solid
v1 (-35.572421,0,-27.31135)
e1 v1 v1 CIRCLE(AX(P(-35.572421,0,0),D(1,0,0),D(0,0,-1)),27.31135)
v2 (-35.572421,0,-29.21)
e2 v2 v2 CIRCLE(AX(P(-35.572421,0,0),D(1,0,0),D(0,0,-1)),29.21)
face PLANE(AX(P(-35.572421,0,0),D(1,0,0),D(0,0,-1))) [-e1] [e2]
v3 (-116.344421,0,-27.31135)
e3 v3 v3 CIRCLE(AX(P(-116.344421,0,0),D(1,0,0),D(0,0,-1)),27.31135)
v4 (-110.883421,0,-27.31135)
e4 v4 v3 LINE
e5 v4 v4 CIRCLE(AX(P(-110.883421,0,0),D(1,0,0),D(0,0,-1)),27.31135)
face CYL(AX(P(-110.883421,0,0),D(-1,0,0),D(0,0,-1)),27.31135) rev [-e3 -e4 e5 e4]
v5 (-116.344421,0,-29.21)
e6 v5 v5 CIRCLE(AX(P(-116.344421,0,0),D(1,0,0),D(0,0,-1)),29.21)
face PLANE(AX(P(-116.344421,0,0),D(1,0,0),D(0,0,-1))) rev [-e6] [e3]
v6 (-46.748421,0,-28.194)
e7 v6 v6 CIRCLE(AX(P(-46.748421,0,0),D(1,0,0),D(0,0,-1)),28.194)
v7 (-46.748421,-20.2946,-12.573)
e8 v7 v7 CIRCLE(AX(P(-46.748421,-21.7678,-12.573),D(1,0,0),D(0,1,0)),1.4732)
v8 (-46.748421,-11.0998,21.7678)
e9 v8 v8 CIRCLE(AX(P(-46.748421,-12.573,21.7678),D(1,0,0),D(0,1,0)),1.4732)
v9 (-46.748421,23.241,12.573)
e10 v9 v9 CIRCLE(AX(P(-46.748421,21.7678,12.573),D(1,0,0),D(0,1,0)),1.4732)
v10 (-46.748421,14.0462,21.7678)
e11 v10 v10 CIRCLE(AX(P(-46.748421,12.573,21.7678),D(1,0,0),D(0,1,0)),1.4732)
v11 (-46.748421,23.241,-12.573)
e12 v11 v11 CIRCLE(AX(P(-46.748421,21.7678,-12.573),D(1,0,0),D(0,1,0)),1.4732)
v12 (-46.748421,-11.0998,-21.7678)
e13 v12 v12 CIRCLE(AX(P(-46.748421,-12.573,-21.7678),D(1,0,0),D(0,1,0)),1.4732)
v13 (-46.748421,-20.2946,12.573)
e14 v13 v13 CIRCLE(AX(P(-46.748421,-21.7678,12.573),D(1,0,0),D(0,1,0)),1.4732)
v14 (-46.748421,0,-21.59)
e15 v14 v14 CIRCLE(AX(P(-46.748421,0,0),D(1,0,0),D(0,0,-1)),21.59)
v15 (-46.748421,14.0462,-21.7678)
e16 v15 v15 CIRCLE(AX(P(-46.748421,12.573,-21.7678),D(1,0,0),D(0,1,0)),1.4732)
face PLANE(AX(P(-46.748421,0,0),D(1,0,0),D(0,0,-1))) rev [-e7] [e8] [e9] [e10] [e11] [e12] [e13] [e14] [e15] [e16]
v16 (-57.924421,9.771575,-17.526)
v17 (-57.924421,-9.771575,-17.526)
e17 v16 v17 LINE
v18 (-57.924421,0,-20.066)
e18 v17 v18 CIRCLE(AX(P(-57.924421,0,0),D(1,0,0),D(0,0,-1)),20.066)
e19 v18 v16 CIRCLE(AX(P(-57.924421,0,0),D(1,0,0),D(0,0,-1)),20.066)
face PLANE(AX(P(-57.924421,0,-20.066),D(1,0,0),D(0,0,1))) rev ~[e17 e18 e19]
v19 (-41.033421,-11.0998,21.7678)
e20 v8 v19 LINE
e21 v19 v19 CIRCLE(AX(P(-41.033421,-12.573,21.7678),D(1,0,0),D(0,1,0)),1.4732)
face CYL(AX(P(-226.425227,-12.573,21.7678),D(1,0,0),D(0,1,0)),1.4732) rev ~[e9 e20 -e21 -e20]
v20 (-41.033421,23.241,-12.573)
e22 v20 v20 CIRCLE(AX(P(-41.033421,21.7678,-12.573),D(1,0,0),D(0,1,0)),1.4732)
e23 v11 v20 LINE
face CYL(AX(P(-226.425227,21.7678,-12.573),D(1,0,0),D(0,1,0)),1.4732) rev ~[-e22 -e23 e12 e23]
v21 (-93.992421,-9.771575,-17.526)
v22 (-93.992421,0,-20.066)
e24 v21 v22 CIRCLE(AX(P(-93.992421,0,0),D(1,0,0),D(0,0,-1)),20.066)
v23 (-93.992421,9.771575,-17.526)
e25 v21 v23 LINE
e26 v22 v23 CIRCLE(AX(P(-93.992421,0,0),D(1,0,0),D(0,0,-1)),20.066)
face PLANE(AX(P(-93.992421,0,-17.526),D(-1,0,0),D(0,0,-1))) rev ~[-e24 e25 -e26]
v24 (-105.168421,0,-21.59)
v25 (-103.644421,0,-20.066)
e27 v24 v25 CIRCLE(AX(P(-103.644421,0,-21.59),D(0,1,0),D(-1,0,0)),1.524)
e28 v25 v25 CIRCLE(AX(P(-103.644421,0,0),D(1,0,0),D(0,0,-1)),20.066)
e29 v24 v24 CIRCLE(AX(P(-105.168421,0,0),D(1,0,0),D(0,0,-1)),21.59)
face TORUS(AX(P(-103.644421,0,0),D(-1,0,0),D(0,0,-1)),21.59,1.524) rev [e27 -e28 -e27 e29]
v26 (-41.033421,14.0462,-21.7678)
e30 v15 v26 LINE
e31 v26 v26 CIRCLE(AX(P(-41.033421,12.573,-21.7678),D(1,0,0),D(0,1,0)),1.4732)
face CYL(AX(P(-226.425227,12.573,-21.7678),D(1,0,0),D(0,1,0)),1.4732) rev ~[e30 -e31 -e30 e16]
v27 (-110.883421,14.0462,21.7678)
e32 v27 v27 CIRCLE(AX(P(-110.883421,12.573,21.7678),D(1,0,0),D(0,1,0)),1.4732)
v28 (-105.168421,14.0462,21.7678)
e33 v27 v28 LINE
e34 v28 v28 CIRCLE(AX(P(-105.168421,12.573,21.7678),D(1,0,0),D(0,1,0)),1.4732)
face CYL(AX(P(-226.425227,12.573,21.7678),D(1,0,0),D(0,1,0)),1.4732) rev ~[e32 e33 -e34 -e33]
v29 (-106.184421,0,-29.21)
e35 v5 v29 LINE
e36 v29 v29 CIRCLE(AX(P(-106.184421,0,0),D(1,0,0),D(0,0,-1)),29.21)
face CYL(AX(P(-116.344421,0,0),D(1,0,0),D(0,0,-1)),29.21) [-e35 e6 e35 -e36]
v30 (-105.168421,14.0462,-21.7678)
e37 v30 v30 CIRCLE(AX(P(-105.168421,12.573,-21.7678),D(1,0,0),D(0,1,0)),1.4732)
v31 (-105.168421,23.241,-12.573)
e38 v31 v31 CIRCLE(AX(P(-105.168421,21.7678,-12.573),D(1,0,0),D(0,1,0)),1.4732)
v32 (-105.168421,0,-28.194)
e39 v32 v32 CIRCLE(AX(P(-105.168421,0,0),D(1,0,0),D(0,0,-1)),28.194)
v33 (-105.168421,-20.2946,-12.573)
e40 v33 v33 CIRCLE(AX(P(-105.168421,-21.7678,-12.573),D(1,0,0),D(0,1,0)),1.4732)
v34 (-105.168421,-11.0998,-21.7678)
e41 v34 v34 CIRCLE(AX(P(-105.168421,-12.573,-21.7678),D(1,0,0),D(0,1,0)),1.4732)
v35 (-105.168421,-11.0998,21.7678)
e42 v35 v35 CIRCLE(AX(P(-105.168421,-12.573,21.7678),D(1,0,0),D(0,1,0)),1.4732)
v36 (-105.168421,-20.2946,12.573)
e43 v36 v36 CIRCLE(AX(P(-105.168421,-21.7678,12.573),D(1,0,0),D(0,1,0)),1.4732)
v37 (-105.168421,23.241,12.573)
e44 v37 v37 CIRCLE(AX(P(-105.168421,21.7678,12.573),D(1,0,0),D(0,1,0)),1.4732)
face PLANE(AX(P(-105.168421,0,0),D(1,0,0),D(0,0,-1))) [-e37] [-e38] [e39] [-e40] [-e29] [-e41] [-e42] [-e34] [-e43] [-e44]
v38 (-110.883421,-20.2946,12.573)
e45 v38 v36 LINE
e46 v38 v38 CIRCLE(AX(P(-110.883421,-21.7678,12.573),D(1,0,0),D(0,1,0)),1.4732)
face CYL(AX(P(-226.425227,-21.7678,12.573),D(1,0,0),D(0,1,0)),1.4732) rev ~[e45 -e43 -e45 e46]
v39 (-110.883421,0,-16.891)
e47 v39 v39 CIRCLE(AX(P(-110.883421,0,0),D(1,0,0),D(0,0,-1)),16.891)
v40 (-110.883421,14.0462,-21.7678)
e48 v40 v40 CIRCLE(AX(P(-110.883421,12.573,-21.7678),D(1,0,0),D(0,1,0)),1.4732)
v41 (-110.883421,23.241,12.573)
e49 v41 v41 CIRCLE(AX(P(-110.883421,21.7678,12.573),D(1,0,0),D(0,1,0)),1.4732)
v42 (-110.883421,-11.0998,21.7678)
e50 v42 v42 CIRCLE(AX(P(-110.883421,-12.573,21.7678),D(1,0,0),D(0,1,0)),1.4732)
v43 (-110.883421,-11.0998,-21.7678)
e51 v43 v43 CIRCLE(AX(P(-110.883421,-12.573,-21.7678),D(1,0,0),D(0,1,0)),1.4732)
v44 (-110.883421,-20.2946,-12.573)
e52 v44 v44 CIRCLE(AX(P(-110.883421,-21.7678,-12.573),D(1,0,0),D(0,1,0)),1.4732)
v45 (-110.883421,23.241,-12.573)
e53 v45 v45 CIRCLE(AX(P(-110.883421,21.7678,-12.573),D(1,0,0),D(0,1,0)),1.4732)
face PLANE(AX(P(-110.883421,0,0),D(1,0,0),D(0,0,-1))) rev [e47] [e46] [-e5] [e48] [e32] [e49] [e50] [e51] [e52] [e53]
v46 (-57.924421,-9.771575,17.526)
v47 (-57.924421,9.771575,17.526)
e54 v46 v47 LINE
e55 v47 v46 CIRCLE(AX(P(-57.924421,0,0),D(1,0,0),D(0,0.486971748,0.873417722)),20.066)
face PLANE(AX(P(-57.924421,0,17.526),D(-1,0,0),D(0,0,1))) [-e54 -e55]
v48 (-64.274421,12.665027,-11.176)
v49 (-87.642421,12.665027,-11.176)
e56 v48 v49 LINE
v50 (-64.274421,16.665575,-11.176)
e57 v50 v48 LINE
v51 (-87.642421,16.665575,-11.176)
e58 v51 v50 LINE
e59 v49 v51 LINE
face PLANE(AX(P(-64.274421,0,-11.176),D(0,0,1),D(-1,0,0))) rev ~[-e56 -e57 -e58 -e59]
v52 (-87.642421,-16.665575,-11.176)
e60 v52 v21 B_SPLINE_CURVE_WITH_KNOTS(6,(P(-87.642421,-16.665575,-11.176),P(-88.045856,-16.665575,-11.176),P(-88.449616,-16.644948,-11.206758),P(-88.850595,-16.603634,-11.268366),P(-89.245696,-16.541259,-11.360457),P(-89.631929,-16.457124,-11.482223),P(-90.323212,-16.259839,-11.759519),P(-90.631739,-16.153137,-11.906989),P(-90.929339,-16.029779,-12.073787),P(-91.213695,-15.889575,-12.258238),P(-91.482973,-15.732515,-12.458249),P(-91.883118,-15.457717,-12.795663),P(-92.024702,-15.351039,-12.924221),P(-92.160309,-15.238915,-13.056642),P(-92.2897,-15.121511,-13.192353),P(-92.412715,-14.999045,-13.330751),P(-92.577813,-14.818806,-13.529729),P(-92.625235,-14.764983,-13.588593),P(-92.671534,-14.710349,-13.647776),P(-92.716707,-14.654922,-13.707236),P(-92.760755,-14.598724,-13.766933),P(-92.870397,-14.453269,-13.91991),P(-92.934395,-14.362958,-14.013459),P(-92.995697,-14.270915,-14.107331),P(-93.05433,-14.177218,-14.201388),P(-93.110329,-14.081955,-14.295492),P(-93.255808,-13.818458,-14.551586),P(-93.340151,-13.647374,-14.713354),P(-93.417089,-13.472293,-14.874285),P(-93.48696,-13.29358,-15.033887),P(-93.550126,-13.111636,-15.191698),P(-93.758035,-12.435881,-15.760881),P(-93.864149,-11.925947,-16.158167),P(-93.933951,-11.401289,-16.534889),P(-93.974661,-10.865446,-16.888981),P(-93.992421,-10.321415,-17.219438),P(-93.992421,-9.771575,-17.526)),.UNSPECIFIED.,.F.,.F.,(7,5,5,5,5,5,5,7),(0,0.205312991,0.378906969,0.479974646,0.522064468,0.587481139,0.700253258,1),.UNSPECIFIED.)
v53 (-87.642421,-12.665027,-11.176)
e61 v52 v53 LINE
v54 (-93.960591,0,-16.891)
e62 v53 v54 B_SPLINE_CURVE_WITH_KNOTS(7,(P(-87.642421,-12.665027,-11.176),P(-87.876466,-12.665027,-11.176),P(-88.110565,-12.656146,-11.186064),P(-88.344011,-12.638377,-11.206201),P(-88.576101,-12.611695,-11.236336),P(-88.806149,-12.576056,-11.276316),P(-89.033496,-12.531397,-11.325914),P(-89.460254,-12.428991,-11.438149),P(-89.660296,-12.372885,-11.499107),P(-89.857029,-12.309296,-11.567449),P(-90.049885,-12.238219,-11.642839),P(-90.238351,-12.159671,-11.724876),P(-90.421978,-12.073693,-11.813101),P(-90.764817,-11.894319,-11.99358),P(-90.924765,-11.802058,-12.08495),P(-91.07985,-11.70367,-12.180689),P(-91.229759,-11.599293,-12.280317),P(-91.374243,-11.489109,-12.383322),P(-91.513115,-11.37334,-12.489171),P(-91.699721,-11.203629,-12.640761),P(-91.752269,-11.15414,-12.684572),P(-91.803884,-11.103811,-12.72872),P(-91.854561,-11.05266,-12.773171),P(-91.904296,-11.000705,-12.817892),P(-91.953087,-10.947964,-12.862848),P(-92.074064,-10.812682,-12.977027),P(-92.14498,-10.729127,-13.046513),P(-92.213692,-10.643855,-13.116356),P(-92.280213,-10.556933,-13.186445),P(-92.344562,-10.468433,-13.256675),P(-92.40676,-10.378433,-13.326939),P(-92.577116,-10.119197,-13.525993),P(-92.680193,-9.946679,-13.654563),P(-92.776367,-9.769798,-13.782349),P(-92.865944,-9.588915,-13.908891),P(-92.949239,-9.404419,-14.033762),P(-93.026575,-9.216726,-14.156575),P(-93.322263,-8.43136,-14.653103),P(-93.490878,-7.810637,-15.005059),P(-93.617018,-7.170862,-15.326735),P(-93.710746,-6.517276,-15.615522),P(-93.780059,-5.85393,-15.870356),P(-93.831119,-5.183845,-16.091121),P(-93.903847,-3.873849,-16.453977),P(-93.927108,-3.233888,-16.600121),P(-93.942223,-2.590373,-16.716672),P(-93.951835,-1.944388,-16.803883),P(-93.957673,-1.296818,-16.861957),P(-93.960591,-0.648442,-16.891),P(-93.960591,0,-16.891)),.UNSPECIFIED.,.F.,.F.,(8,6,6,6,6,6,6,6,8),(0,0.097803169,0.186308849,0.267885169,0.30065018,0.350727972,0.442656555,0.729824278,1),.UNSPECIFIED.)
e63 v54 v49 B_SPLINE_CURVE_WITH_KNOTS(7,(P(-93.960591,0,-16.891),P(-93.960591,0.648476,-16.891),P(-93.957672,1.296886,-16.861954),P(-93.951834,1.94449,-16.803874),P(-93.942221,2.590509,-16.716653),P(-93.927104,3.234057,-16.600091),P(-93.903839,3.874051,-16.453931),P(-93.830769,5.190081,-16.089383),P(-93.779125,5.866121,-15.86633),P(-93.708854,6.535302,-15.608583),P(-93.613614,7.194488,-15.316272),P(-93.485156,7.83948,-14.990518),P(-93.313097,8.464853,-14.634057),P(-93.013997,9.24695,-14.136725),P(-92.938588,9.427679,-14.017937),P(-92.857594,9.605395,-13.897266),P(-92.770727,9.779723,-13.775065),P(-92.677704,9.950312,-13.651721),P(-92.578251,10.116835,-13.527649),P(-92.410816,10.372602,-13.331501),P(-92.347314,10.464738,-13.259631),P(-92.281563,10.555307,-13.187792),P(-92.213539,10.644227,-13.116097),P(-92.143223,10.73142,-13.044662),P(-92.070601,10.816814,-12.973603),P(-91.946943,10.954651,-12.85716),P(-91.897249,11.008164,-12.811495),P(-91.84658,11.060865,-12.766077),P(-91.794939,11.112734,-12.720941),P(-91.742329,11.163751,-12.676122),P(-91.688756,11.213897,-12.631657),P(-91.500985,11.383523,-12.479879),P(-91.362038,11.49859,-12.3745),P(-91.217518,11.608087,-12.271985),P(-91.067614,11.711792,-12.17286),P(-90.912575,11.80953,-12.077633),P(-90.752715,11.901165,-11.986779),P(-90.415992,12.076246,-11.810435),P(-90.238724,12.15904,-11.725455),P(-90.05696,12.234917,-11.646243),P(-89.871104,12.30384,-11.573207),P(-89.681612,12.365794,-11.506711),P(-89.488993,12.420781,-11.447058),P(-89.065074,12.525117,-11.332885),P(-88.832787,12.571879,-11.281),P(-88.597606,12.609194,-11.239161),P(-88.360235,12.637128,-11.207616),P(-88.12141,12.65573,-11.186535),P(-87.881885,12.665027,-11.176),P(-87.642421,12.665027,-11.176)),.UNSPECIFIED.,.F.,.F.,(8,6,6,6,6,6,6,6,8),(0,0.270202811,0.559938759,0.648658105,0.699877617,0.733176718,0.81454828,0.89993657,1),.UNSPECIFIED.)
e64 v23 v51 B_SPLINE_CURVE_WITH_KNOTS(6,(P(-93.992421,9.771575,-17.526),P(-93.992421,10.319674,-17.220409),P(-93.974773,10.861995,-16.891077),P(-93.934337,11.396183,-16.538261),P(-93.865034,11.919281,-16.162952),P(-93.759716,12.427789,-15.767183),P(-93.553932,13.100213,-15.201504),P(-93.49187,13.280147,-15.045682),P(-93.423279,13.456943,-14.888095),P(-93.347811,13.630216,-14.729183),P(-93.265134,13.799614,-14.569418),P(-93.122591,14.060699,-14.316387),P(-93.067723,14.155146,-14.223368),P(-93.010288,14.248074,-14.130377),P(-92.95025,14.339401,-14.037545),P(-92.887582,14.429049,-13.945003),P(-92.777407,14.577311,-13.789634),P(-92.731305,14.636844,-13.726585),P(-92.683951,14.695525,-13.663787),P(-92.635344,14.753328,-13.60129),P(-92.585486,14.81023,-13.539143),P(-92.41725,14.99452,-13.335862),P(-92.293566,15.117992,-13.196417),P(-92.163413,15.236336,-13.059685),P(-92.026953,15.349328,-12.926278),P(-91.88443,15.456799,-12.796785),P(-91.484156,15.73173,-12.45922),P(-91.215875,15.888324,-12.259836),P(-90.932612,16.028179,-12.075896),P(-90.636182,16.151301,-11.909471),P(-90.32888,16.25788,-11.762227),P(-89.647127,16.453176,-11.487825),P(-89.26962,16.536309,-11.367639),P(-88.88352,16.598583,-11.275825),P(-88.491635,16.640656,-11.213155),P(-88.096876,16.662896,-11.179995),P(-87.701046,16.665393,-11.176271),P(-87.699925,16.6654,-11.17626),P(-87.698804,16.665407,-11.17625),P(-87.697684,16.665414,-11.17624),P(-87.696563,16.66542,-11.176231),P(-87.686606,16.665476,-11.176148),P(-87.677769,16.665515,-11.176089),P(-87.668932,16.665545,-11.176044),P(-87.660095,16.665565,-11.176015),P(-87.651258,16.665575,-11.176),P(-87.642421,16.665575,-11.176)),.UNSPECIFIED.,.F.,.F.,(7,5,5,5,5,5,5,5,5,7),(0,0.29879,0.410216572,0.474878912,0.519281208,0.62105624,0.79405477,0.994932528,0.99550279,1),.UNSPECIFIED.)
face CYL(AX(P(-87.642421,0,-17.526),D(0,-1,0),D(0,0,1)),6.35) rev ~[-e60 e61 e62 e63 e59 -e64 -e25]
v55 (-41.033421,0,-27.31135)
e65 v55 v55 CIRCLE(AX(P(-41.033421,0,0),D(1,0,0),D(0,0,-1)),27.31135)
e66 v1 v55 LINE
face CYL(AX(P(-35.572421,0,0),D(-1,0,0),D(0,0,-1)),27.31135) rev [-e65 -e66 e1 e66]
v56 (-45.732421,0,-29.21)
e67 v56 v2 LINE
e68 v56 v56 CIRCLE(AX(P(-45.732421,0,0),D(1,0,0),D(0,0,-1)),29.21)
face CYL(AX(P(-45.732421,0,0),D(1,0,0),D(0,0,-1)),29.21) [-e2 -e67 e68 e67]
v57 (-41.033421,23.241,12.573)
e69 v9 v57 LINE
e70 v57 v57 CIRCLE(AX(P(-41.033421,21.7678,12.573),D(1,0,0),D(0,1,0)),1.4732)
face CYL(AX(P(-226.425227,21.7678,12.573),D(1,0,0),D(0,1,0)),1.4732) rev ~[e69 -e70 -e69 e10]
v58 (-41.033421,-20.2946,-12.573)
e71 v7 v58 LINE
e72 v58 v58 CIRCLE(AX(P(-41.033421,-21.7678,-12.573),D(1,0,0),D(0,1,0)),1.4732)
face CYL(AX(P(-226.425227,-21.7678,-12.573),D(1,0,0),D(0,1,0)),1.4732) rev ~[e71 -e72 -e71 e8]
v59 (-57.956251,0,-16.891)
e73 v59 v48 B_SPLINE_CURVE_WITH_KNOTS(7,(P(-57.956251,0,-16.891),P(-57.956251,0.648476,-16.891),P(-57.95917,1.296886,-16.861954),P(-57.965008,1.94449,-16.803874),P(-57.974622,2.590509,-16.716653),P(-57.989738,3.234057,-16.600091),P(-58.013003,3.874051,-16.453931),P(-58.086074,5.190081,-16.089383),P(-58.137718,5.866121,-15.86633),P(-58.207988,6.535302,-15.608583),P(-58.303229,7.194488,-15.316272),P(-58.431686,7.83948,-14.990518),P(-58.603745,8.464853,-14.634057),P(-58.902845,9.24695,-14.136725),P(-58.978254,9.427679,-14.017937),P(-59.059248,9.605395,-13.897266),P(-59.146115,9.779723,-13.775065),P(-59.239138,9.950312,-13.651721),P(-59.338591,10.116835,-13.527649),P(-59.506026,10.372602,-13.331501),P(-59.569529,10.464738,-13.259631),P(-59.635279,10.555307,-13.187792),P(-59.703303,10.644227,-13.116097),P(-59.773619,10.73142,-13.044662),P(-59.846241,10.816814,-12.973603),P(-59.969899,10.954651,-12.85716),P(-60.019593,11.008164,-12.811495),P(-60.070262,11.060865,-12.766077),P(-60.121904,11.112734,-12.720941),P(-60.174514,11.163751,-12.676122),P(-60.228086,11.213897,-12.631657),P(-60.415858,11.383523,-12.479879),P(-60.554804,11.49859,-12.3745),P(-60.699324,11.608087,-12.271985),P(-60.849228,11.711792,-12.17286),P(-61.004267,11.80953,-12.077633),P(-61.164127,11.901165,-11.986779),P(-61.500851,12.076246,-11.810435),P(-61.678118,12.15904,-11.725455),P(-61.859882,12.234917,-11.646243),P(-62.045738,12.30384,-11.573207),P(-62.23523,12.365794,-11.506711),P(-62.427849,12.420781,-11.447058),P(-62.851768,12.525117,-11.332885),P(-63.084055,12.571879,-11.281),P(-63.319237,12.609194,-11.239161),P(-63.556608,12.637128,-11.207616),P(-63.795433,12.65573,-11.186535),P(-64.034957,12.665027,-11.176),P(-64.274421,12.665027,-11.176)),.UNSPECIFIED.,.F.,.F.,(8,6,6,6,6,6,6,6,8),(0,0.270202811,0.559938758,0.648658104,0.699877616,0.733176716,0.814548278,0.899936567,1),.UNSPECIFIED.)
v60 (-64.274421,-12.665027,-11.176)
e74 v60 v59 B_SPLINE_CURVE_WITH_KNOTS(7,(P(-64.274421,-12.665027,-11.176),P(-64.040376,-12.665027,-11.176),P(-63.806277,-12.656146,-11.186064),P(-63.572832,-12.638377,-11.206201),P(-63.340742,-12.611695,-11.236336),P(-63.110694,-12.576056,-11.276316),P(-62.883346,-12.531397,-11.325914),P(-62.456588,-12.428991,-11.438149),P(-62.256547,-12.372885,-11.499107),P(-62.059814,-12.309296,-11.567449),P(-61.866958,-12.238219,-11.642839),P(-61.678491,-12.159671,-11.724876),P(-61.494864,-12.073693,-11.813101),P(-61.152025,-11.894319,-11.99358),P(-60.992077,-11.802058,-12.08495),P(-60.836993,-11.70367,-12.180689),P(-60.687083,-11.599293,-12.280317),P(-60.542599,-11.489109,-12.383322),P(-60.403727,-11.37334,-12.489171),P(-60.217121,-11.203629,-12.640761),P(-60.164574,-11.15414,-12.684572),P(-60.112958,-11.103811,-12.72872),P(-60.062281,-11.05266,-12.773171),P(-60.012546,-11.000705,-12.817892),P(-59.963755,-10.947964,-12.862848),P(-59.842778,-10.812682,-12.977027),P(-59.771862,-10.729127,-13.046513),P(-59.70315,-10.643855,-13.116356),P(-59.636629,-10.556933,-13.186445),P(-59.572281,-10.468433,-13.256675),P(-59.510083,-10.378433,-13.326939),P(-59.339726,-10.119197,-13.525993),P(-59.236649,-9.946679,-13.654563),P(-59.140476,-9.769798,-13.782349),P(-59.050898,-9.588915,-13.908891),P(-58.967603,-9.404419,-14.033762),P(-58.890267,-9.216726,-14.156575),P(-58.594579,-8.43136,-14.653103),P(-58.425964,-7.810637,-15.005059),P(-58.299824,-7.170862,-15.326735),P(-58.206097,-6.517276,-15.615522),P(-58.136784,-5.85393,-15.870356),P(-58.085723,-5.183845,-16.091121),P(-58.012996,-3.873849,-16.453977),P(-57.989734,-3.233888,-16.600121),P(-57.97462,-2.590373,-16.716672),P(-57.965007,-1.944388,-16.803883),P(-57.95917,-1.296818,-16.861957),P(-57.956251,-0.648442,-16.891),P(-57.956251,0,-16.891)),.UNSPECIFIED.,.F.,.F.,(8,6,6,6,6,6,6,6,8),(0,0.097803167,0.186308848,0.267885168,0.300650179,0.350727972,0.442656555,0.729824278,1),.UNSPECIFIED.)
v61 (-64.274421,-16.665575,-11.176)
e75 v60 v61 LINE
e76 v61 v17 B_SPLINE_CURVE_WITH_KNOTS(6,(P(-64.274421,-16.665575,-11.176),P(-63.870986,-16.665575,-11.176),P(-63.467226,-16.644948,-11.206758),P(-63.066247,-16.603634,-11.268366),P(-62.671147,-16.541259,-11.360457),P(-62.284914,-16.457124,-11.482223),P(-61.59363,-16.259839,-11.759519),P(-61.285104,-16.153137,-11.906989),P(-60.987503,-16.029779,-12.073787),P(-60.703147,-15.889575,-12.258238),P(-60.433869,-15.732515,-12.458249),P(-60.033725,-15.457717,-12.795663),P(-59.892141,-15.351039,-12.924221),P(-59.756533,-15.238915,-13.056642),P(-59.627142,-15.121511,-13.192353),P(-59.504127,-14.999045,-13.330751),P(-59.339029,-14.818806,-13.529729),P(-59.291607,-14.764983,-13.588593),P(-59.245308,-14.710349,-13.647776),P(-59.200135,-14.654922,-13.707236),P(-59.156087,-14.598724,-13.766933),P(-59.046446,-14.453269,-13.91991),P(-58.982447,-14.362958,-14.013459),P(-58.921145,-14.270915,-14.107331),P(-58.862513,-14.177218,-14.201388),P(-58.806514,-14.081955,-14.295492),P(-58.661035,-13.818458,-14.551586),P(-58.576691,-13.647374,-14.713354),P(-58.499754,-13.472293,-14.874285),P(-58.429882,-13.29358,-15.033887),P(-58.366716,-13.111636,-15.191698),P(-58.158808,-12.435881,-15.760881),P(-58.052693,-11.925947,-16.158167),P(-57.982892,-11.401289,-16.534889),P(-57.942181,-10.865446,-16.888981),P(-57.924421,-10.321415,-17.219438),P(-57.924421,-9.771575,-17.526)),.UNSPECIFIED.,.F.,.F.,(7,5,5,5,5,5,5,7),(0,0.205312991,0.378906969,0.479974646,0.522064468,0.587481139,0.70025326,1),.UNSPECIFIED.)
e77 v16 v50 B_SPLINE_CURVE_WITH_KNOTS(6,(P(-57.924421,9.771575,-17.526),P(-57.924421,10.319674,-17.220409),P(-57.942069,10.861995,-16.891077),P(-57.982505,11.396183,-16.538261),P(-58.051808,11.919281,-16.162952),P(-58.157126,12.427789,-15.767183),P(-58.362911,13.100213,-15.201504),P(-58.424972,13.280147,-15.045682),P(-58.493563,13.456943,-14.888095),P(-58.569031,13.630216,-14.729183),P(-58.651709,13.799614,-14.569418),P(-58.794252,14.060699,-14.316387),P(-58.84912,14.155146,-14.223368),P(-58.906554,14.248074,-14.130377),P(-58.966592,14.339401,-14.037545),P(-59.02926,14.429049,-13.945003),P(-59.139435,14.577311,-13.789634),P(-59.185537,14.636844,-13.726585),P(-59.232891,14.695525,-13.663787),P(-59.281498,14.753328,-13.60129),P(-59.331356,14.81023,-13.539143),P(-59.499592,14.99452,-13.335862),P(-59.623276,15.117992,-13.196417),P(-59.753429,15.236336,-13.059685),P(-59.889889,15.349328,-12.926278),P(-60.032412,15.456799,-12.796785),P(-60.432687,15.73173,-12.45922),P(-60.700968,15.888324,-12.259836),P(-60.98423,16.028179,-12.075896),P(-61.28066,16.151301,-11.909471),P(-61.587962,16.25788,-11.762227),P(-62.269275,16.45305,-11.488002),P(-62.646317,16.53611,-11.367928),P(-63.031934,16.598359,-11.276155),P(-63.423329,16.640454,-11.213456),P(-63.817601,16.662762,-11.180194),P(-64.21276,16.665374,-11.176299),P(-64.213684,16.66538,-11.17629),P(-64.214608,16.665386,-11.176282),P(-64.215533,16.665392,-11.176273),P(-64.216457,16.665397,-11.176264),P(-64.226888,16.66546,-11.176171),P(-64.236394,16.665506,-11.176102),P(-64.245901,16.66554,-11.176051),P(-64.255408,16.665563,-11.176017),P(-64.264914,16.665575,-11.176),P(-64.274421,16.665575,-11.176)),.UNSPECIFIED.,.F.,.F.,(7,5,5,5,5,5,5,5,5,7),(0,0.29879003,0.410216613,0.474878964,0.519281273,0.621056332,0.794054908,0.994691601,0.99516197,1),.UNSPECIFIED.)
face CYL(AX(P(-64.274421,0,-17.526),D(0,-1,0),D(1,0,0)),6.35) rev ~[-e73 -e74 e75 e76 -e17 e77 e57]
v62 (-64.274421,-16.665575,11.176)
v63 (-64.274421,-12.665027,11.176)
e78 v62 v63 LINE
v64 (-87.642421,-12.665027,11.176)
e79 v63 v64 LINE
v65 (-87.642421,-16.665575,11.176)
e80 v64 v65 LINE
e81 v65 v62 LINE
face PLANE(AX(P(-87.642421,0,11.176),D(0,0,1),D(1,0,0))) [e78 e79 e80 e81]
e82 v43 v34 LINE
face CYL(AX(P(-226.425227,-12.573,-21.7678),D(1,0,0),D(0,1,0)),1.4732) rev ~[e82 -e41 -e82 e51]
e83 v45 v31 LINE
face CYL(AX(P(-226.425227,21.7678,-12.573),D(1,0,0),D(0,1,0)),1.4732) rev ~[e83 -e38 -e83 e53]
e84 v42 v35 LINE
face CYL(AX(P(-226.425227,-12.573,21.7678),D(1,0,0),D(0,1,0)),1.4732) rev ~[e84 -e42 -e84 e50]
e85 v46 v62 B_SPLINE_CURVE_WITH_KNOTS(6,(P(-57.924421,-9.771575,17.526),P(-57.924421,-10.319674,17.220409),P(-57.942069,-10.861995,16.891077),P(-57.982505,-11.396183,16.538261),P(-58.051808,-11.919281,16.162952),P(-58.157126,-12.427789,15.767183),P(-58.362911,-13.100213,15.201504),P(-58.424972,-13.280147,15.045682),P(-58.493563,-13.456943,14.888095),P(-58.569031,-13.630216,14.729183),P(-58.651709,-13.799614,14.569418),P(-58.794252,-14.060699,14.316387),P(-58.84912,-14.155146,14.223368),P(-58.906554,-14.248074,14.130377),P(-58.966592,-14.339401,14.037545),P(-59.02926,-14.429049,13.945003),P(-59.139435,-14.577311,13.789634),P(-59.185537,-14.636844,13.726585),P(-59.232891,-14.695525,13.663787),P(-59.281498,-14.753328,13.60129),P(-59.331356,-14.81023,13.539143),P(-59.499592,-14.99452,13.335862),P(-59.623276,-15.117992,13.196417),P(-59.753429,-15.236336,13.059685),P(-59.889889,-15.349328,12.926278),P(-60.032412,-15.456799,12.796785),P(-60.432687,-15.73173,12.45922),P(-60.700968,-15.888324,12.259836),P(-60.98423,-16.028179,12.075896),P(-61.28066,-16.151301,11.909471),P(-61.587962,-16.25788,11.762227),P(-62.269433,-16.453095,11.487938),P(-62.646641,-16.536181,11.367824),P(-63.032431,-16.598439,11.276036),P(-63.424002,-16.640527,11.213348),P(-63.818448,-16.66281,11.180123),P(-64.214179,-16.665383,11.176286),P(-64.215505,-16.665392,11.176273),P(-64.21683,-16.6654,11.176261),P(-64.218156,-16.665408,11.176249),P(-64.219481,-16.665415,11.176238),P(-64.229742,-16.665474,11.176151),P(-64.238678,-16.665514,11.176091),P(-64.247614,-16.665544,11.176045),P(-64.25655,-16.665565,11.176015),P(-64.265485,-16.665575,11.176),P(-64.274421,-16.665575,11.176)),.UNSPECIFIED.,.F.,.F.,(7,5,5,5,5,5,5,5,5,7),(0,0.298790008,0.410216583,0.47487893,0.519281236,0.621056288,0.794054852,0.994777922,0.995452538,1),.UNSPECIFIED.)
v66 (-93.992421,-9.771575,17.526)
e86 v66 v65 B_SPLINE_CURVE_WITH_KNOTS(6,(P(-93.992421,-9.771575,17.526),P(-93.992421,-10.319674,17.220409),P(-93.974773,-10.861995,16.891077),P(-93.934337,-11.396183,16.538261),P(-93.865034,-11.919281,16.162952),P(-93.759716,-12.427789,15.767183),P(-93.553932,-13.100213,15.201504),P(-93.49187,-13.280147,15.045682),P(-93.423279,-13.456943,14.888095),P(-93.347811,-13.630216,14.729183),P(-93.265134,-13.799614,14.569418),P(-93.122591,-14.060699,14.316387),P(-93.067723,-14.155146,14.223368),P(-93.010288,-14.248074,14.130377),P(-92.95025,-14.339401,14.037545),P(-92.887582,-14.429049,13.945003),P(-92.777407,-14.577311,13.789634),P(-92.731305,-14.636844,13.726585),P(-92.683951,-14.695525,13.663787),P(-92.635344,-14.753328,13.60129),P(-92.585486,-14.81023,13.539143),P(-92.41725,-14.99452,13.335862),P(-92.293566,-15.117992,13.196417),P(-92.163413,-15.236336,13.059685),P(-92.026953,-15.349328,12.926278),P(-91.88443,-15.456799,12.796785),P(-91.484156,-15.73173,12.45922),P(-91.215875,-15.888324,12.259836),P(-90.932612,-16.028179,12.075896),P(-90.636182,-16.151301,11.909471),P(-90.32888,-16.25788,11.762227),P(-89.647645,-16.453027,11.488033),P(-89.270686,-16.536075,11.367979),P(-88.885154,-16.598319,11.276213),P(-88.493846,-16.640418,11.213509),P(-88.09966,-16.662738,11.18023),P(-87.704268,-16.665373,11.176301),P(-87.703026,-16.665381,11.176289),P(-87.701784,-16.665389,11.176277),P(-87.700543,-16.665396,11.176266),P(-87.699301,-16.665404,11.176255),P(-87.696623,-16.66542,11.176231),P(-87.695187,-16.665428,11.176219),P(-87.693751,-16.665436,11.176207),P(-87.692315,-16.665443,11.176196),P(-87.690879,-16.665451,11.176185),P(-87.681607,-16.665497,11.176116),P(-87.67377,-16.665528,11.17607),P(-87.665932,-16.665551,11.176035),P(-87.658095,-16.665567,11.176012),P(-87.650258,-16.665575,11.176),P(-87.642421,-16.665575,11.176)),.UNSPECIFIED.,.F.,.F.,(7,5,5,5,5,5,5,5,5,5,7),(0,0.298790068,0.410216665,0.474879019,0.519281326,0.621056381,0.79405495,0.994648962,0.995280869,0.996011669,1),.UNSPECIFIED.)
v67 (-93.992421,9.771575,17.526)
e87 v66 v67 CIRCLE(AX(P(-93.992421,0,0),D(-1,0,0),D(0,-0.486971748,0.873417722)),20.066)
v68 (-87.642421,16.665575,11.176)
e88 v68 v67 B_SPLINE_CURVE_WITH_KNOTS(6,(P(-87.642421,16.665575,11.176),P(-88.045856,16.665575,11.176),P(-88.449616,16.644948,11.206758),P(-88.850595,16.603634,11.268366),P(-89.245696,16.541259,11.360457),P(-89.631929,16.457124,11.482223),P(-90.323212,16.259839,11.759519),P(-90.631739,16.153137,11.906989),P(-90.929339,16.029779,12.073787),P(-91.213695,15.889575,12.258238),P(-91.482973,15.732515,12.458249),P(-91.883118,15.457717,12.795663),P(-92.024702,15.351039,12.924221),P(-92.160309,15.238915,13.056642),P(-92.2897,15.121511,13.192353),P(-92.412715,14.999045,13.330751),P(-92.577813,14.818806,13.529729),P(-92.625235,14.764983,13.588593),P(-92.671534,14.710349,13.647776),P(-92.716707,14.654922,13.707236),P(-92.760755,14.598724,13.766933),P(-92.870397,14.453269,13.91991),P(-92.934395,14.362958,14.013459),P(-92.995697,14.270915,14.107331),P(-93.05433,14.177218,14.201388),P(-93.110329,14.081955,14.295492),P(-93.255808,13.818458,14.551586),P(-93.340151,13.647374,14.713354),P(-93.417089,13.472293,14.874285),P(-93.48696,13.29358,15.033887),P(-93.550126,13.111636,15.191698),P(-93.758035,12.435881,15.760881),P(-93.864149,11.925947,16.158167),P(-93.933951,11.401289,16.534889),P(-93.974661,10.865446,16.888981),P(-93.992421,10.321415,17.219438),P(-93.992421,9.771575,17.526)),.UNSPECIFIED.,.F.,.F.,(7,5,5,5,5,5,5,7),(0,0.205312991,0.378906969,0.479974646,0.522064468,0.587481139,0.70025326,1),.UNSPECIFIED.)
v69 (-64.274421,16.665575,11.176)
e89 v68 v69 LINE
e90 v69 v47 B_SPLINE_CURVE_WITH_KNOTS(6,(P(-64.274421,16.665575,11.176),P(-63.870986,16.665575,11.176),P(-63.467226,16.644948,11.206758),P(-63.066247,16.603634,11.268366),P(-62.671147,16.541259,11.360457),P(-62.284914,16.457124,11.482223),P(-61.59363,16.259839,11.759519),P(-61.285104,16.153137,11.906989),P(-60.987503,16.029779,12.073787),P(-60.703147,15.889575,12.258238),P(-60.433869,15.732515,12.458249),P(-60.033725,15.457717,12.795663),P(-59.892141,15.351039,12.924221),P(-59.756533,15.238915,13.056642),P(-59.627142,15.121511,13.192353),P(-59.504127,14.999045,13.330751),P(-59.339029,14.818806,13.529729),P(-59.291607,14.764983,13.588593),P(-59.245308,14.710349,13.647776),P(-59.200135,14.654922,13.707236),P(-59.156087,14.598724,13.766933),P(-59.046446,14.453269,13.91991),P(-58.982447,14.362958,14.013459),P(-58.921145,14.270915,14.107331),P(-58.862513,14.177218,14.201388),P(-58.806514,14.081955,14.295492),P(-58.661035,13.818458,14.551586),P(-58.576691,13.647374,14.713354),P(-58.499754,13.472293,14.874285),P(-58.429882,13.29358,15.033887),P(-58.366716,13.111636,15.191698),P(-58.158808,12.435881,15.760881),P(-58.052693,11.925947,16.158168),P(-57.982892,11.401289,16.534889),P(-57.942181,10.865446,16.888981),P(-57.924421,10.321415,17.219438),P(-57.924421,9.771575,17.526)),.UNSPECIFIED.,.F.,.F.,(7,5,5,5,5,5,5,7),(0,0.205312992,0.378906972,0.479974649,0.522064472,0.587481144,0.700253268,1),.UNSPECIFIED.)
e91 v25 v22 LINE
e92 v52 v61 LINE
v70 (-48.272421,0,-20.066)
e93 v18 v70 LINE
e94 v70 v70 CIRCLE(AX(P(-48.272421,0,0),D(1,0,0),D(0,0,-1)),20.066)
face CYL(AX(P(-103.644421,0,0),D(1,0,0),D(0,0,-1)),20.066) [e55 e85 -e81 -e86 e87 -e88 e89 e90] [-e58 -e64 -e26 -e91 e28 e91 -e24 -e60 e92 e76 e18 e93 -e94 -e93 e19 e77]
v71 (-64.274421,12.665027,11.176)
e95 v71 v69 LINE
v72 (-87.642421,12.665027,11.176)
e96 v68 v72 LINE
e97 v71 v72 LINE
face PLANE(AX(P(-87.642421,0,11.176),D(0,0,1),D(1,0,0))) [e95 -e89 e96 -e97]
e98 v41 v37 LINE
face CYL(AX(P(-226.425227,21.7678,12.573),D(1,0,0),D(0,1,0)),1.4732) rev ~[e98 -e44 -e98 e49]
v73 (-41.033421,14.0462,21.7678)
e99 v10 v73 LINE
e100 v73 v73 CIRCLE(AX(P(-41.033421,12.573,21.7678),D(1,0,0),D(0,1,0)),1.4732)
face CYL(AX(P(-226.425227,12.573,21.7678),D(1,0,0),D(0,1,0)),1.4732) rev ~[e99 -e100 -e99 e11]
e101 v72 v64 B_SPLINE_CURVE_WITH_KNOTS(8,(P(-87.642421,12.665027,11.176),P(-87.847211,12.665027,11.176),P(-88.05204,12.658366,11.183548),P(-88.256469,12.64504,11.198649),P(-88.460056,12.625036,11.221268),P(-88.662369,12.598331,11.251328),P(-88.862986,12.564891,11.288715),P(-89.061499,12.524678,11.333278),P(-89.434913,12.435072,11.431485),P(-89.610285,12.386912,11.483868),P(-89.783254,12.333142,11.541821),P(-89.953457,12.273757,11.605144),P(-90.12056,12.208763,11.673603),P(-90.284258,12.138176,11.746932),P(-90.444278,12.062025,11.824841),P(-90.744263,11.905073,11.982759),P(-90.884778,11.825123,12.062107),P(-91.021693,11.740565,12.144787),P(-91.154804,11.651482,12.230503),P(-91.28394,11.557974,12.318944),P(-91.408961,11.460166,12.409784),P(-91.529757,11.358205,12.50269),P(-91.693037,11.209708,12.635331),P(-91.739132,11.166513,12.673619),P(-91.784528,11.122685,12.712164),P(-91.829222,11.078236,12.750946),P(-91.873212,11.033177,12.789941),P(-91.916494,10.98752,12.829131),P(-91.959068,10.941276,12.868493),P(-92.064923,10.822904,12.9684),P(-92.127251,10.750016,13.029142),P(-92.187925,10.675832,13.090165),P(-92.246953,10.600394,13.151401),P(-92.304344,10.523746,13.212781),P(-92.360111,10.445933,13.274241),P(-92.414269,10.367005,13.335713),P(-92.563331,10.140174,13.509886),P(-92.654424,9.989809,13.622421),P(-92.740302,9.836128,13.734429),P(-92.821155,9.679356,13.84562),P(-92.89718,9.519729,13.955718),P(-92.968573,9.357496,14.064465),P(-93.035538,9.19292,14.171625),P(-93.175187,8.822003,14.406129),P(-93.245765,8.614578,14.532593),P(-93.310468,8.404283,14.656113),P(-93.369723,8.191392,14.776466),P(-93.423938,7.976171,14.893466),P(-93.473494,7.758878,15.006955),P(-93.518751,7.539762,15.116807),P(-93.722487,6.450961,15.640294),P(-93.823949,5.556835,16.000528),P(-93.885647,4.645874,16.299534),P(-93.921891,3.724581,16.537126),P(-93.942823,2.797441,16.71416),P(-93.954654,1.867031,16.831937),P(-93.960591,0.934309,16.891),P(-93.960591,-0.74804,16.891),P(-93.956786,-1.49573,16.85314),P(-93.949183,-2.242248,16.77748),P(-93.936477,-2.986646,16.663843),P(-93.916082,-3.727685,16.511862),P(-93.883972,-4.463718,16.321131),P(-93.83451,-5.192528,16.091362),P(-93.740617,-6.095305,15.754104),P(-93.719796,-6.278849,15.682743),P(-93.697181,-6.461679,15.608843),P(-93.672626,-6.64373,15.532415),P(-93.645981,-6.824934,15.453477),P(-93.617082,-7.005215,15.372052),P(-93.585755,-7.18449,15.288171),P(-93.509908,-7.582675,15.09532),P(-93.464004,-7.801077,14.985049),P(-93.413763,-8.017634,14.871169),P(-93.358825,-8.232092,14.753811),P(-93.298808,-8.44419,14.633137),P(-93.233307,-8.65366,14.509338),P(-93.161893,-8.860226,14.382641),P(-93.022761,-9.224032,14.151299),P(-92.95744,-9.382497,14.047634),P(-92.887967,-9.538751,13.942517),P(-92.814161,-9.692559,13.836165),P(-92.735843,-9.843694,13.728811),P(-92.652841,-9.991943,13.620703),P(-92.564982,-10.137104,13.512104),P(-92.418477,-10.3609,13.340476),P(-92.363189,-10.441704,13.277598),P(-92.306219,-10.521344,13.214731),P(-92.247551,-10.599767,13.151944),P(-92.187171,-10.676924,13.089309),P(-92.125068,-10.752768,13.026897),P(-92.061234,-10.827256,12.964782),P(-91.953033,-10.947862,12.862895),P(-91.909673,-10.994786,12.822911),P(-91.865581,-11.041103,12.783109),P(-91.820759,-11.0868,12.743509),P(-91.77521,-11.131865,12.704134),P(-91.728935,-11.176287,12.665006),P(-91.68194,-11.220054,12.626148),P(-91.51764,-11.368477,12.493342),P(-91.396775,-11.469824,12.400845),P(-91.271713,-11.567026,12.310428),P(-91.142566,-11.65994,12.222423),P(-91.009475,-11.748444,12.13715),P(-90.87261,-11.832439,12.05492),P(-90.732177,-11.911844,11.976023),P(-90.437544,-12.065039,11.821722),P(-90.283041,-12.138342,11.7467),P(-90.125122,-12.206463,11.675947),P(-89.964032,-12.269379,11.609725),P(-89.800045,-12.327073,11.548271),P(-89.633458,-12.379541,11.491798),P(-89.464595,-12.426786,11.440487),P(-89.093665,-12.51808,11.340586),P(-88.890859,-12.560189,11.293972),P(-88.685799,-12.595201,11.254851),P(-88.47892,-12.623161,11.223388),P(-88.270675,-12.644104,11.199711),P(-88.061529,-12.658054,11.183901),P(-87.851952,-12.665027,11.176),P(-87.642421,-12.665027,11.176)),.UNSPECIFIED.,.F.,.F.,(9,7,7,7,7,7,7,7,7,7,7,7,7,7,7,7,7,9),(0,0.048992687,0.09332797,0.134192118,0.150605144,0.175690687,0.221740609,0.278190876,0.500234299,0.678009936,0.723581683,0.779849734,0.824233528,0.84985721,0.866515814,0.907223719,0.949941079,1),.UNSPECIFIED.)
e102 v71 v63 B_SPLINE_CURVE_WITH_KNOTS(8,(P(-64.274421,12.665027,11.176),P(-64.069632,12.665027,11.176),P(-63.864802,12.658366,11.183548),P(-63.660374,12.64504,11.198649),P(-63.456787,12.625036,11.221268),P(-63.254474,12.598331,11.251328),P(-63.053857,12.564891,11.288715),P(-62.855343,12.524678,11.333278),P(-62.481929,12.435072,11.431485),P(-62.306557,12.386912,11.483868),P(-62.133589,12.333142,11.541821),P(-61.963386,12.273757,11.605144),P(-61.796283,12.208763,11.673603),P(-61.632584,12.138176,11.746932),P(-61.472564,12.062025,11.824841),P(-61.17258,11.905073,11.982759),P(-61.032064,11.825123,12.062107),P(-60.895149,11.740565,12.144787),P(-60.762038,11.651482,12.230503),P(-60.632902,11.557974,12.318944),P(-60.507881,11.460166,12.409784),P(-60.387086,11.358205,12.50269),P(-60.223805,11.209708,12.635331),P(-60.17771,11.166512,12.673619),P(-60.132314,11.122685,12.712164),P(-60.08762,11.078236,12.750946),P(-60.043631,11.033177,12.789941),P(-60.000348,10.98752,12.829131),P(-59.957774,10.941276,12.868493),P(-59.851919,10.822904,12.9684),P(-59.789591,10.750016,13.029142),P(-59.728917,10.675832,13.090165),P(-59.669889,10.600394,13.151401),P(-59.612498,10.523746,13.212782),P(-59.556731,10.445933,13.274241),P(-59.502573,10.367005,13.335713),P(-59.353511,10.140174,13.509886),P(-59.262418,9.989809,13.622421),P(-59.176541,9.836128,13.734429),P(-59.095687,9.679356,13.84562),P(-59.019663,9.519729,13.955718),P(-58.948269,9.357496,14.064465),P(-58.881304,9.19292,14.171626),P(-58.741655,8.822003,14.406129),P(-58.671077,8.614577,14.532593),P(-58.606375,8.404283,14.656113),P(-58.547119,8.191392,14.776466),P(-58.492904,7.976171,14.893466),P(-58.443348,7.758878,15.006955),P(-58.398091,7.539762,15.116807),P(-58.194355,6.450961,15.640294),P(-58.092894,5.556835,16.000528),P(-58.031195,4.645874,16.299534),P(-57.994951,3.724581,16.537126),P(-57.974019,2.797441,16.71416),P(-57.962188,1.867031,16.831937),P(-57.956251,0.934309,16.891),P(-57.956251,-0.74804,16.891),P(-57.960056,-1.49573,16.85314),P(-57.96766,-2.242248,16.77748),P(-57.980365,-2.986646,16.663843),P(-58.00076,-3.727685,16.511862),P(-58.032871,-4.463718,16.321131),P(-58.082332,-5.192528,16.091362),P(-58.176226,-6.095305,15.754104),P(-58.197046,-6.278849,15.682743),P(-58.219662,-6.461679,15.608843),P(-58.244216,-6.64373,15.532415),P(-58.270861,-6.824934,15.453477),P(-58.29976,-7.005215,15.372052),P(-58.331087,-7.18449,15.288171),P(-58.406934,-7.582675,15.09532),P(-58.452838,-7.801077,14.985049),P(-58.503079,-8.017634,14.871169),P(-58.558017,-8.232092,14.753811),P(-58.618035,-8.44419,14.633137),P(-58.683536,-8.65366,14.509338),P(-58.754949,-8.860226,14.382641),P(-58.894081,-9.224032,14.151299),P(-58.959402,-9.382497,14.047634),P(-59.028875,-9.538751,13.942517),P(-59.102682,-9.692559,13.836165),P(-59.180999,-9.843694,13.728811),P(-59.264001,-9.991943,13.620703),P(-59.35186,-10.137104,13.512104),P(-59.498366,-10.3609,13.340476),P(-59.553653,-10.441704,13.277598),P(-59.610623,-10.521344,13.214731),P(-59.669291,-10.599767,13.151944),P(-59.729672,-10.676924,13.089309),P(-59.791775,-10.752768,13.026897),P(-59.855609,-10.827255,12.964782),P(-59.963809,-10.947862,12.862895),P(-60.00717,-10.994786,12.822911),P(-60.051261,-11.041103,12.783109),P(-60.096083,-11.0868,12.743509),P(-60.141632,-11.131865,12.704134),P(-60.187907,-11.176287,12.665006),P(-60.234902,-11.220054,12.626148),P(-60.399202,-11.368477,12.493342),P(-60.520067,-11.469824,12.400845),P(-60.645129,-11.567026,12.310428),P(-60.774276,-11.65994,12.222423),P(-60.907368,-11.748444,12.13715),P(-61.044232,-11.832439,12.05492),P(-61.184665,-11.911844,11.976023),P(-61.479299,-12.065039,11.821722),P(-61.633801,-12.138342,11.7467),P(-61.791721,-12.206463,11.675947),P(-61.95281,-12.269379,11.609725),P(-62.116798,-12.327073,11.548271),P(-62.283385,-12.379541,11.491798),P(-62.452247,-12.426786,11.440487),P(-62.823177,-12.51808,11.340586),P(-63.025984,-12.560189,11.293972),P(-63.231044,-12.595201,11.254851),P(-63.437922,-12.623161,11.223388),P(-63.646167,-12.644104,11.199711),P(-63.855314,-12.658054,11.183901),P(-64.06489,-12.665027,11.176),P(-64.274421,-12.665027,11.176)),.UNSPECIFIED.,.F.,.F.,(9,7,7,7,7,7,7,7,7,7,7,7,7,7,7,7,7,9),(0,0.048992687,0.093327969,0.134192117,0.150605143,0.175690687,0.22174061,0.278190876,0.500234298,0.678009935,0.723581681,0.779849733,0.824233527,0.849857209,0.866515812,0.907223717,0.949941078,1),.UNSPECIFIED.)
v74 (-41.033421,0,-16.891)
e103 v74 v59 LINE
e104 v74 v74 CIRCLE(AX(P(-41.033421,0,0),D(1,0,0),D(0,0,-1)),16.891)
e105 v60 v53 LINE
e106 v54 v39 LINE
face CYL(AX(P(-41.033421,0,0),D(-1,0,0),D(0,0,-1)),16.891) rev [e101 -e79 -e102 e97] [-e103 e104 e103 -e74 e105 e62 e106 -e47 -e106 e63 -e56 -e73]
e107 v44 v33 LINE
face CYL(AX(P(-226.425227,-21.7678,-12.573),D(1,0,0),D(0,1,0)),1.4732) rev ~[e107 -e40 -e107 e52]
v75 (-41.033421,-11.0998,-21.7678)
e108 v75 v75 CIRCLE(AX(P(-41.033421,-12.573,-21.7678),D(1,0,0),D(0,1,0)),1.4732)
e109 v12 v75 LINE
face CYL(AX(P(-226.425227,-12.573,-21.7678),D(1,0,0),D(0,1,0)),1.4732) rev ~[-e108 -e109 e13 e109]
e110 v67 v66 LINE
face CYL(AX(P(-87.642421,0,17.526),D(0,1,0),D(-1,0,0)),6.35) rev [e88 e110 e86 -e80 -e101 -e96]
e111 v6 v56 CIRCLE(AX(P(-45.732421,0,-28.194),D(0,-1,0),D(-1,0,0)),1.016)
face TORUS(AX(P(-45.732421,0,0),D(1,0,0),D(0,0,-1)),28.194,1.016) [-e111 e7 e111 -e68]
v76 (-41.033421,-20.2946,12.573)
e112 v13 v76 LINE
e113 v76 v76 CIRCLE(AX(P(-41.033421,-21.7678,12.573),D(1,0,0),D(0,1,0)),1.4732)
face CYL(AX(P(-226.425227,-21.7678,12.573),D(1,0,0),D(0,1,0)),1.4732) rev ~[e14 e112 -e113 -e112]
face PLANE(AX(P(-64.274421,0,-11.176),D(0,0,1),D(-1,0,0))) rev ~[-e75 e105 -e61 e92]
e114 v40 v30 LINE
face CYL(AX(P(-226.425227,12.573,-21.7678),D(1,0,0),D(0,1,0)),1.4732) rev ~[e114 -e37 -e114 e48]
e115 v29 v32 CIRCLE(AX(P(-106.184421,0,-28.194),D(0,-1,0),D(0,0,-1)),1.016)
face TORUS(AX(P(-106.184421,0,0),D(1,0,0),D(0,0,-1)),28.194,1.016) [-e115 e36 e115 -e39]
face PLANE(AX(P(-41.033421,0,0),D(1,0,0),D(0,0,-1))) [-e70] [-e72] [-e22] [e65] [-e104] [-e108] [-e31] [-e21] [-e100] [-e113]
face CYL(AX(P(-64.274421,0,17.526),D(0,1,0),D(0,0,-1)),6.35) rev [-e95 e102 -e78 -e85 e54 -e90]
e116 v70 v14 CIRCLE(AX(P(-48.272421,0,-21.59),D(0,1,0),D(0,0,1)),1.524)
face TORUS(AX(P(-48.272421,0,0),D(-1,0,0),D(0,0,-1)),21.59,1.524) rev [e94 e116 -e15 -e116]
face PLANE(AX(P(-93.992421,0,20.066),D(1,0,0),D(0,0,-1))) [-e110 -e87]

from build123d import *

# Parameters (mm, degrees)
F3_DEPTH = 21.844
F5_D     = 2.9464


with BuildPart() as f1:
    # F0 (on Front) → F1 (revolve)
    with BuildSketch(Plane.XZ):
        with BuildLine():
            Line((-110.8834211646, -27.31135), (-116.3444211646, -27.31135))
            Line((-116.3444211646, -27.31135), (-116.3444211646, -29.21))
            Line((-116.3444211646, -29.21), (-106.1844211646, -29.21))
            ThreePointArc((-106.1844211646, -29.21), (-105.466000675, -28.9124204897), (-105.1684211646, -28.194))
            Line((-105.1684211646, -28.194), (-105.1684211646, -21.59))
            ThreePointArc((-105.1684211646, -21.59), (-104.7220518992, -20.5123692655), (-103.6444211646, -20.066))
            Line((-103.6444211646, -20.066), (-48.2724211646, -20.066))
            ThreePointArc((-48.2724211646, -20.066), (-47.1947904301, -20.5123692655), (-46.7484211646, -21.59))
            Line((-46.7484211646, -21.59), (-46.7484211646, -28.194))
            ThreePointArc((-46.7484211646, -28.194), (-46.4508416543, -28.9124204897), (-45.7324211646, -29.21))
            Line((-45.7324211646, -29.21), (-35.5724211646, -29.21))
            Line((-35.5724211646, -29.21), (-35.5724211646, -27.31135))
            Line((-35.5724211646, -27.31135), (-41.0334211646, -27.31135))
            Line((-41.0334211646, -27.31135), (-41.0334211646, -16.891))
            Line((-41.0334211646, -16.891), (-110.8834211646, -16.891))
            Line((-110.8834211646, -16.891), (-110.8834211646, -27.31135))
        make_face()
    revolve(axis=Axis((-4.8594327902, 0, 0), (1, 0, 0)))

    # F2 (on Front) → F3 (cut, symmetric)
    with BuildSketch(Plane.XZ):
        with BuildLine():
            Line((-57.9244211646, 20.066), (-93.9924211646, 20.066))
            Line((-93.9924211646, 20.066), (-93.9924211646, 17.526))
            ThreePointArc((-93.9924211646, 17.526), (-92.1325492252, 13.0358719395), (-87.6424211646, 11.176))
            Line((-87.6424211646, 11.176), (-64.2744211646, 11.176))
            ThreePointArc((-64.2744211646, 11.176), (-59.7842931041, 13.0358719395), (-57.9244211646, 17.526))
            Line((-57.9244211646, 17.526), (-57.9244211646, 20.066))
        make_face()
        with BuildLine():
            Line((-93.9924211646, -20.066), (-57.9244211646, -20.066))
            Line((-57.9244211646, -20.066), (-57.9244211646, -17.526))
            ThreePointArc((-57.9244211646, -17.526), (-59.7842931041, -13.0358719395), (-64.2744211646, -11.176))
            Line((-64.2744211646, -11.176), (-87.6424211646, -11.176))
            ThreePointArc((-87.6424211646, -11.176), (-92.1325492252, -13.0358719395), (-93.9924211646, -17.526))
            Line((-93.9924211646, -17.526), (-93.9924211646, -20.066))
        make_face()
    extrude(amount=F3_DEPTH, both=True, mode=Mode.SUBTRACT)

    # F5 (through all)
    with Locations(Plane(origin=(-110.8834211646, 0, 0), x_dir=(0, -1, 0), z_dir=(-1, 0, 0))):
        with Locations((12.573, 21.7678), (21.7678, 12.573), (21.7678, -12.573), (12.573, -21.7678), (-12.573, -21.7678), (-21.7678, -12.573), (-21.7678, 12.573), (-12.573, 21.7678)):
            Hole(F5_D / 2)


solid = f1.part
